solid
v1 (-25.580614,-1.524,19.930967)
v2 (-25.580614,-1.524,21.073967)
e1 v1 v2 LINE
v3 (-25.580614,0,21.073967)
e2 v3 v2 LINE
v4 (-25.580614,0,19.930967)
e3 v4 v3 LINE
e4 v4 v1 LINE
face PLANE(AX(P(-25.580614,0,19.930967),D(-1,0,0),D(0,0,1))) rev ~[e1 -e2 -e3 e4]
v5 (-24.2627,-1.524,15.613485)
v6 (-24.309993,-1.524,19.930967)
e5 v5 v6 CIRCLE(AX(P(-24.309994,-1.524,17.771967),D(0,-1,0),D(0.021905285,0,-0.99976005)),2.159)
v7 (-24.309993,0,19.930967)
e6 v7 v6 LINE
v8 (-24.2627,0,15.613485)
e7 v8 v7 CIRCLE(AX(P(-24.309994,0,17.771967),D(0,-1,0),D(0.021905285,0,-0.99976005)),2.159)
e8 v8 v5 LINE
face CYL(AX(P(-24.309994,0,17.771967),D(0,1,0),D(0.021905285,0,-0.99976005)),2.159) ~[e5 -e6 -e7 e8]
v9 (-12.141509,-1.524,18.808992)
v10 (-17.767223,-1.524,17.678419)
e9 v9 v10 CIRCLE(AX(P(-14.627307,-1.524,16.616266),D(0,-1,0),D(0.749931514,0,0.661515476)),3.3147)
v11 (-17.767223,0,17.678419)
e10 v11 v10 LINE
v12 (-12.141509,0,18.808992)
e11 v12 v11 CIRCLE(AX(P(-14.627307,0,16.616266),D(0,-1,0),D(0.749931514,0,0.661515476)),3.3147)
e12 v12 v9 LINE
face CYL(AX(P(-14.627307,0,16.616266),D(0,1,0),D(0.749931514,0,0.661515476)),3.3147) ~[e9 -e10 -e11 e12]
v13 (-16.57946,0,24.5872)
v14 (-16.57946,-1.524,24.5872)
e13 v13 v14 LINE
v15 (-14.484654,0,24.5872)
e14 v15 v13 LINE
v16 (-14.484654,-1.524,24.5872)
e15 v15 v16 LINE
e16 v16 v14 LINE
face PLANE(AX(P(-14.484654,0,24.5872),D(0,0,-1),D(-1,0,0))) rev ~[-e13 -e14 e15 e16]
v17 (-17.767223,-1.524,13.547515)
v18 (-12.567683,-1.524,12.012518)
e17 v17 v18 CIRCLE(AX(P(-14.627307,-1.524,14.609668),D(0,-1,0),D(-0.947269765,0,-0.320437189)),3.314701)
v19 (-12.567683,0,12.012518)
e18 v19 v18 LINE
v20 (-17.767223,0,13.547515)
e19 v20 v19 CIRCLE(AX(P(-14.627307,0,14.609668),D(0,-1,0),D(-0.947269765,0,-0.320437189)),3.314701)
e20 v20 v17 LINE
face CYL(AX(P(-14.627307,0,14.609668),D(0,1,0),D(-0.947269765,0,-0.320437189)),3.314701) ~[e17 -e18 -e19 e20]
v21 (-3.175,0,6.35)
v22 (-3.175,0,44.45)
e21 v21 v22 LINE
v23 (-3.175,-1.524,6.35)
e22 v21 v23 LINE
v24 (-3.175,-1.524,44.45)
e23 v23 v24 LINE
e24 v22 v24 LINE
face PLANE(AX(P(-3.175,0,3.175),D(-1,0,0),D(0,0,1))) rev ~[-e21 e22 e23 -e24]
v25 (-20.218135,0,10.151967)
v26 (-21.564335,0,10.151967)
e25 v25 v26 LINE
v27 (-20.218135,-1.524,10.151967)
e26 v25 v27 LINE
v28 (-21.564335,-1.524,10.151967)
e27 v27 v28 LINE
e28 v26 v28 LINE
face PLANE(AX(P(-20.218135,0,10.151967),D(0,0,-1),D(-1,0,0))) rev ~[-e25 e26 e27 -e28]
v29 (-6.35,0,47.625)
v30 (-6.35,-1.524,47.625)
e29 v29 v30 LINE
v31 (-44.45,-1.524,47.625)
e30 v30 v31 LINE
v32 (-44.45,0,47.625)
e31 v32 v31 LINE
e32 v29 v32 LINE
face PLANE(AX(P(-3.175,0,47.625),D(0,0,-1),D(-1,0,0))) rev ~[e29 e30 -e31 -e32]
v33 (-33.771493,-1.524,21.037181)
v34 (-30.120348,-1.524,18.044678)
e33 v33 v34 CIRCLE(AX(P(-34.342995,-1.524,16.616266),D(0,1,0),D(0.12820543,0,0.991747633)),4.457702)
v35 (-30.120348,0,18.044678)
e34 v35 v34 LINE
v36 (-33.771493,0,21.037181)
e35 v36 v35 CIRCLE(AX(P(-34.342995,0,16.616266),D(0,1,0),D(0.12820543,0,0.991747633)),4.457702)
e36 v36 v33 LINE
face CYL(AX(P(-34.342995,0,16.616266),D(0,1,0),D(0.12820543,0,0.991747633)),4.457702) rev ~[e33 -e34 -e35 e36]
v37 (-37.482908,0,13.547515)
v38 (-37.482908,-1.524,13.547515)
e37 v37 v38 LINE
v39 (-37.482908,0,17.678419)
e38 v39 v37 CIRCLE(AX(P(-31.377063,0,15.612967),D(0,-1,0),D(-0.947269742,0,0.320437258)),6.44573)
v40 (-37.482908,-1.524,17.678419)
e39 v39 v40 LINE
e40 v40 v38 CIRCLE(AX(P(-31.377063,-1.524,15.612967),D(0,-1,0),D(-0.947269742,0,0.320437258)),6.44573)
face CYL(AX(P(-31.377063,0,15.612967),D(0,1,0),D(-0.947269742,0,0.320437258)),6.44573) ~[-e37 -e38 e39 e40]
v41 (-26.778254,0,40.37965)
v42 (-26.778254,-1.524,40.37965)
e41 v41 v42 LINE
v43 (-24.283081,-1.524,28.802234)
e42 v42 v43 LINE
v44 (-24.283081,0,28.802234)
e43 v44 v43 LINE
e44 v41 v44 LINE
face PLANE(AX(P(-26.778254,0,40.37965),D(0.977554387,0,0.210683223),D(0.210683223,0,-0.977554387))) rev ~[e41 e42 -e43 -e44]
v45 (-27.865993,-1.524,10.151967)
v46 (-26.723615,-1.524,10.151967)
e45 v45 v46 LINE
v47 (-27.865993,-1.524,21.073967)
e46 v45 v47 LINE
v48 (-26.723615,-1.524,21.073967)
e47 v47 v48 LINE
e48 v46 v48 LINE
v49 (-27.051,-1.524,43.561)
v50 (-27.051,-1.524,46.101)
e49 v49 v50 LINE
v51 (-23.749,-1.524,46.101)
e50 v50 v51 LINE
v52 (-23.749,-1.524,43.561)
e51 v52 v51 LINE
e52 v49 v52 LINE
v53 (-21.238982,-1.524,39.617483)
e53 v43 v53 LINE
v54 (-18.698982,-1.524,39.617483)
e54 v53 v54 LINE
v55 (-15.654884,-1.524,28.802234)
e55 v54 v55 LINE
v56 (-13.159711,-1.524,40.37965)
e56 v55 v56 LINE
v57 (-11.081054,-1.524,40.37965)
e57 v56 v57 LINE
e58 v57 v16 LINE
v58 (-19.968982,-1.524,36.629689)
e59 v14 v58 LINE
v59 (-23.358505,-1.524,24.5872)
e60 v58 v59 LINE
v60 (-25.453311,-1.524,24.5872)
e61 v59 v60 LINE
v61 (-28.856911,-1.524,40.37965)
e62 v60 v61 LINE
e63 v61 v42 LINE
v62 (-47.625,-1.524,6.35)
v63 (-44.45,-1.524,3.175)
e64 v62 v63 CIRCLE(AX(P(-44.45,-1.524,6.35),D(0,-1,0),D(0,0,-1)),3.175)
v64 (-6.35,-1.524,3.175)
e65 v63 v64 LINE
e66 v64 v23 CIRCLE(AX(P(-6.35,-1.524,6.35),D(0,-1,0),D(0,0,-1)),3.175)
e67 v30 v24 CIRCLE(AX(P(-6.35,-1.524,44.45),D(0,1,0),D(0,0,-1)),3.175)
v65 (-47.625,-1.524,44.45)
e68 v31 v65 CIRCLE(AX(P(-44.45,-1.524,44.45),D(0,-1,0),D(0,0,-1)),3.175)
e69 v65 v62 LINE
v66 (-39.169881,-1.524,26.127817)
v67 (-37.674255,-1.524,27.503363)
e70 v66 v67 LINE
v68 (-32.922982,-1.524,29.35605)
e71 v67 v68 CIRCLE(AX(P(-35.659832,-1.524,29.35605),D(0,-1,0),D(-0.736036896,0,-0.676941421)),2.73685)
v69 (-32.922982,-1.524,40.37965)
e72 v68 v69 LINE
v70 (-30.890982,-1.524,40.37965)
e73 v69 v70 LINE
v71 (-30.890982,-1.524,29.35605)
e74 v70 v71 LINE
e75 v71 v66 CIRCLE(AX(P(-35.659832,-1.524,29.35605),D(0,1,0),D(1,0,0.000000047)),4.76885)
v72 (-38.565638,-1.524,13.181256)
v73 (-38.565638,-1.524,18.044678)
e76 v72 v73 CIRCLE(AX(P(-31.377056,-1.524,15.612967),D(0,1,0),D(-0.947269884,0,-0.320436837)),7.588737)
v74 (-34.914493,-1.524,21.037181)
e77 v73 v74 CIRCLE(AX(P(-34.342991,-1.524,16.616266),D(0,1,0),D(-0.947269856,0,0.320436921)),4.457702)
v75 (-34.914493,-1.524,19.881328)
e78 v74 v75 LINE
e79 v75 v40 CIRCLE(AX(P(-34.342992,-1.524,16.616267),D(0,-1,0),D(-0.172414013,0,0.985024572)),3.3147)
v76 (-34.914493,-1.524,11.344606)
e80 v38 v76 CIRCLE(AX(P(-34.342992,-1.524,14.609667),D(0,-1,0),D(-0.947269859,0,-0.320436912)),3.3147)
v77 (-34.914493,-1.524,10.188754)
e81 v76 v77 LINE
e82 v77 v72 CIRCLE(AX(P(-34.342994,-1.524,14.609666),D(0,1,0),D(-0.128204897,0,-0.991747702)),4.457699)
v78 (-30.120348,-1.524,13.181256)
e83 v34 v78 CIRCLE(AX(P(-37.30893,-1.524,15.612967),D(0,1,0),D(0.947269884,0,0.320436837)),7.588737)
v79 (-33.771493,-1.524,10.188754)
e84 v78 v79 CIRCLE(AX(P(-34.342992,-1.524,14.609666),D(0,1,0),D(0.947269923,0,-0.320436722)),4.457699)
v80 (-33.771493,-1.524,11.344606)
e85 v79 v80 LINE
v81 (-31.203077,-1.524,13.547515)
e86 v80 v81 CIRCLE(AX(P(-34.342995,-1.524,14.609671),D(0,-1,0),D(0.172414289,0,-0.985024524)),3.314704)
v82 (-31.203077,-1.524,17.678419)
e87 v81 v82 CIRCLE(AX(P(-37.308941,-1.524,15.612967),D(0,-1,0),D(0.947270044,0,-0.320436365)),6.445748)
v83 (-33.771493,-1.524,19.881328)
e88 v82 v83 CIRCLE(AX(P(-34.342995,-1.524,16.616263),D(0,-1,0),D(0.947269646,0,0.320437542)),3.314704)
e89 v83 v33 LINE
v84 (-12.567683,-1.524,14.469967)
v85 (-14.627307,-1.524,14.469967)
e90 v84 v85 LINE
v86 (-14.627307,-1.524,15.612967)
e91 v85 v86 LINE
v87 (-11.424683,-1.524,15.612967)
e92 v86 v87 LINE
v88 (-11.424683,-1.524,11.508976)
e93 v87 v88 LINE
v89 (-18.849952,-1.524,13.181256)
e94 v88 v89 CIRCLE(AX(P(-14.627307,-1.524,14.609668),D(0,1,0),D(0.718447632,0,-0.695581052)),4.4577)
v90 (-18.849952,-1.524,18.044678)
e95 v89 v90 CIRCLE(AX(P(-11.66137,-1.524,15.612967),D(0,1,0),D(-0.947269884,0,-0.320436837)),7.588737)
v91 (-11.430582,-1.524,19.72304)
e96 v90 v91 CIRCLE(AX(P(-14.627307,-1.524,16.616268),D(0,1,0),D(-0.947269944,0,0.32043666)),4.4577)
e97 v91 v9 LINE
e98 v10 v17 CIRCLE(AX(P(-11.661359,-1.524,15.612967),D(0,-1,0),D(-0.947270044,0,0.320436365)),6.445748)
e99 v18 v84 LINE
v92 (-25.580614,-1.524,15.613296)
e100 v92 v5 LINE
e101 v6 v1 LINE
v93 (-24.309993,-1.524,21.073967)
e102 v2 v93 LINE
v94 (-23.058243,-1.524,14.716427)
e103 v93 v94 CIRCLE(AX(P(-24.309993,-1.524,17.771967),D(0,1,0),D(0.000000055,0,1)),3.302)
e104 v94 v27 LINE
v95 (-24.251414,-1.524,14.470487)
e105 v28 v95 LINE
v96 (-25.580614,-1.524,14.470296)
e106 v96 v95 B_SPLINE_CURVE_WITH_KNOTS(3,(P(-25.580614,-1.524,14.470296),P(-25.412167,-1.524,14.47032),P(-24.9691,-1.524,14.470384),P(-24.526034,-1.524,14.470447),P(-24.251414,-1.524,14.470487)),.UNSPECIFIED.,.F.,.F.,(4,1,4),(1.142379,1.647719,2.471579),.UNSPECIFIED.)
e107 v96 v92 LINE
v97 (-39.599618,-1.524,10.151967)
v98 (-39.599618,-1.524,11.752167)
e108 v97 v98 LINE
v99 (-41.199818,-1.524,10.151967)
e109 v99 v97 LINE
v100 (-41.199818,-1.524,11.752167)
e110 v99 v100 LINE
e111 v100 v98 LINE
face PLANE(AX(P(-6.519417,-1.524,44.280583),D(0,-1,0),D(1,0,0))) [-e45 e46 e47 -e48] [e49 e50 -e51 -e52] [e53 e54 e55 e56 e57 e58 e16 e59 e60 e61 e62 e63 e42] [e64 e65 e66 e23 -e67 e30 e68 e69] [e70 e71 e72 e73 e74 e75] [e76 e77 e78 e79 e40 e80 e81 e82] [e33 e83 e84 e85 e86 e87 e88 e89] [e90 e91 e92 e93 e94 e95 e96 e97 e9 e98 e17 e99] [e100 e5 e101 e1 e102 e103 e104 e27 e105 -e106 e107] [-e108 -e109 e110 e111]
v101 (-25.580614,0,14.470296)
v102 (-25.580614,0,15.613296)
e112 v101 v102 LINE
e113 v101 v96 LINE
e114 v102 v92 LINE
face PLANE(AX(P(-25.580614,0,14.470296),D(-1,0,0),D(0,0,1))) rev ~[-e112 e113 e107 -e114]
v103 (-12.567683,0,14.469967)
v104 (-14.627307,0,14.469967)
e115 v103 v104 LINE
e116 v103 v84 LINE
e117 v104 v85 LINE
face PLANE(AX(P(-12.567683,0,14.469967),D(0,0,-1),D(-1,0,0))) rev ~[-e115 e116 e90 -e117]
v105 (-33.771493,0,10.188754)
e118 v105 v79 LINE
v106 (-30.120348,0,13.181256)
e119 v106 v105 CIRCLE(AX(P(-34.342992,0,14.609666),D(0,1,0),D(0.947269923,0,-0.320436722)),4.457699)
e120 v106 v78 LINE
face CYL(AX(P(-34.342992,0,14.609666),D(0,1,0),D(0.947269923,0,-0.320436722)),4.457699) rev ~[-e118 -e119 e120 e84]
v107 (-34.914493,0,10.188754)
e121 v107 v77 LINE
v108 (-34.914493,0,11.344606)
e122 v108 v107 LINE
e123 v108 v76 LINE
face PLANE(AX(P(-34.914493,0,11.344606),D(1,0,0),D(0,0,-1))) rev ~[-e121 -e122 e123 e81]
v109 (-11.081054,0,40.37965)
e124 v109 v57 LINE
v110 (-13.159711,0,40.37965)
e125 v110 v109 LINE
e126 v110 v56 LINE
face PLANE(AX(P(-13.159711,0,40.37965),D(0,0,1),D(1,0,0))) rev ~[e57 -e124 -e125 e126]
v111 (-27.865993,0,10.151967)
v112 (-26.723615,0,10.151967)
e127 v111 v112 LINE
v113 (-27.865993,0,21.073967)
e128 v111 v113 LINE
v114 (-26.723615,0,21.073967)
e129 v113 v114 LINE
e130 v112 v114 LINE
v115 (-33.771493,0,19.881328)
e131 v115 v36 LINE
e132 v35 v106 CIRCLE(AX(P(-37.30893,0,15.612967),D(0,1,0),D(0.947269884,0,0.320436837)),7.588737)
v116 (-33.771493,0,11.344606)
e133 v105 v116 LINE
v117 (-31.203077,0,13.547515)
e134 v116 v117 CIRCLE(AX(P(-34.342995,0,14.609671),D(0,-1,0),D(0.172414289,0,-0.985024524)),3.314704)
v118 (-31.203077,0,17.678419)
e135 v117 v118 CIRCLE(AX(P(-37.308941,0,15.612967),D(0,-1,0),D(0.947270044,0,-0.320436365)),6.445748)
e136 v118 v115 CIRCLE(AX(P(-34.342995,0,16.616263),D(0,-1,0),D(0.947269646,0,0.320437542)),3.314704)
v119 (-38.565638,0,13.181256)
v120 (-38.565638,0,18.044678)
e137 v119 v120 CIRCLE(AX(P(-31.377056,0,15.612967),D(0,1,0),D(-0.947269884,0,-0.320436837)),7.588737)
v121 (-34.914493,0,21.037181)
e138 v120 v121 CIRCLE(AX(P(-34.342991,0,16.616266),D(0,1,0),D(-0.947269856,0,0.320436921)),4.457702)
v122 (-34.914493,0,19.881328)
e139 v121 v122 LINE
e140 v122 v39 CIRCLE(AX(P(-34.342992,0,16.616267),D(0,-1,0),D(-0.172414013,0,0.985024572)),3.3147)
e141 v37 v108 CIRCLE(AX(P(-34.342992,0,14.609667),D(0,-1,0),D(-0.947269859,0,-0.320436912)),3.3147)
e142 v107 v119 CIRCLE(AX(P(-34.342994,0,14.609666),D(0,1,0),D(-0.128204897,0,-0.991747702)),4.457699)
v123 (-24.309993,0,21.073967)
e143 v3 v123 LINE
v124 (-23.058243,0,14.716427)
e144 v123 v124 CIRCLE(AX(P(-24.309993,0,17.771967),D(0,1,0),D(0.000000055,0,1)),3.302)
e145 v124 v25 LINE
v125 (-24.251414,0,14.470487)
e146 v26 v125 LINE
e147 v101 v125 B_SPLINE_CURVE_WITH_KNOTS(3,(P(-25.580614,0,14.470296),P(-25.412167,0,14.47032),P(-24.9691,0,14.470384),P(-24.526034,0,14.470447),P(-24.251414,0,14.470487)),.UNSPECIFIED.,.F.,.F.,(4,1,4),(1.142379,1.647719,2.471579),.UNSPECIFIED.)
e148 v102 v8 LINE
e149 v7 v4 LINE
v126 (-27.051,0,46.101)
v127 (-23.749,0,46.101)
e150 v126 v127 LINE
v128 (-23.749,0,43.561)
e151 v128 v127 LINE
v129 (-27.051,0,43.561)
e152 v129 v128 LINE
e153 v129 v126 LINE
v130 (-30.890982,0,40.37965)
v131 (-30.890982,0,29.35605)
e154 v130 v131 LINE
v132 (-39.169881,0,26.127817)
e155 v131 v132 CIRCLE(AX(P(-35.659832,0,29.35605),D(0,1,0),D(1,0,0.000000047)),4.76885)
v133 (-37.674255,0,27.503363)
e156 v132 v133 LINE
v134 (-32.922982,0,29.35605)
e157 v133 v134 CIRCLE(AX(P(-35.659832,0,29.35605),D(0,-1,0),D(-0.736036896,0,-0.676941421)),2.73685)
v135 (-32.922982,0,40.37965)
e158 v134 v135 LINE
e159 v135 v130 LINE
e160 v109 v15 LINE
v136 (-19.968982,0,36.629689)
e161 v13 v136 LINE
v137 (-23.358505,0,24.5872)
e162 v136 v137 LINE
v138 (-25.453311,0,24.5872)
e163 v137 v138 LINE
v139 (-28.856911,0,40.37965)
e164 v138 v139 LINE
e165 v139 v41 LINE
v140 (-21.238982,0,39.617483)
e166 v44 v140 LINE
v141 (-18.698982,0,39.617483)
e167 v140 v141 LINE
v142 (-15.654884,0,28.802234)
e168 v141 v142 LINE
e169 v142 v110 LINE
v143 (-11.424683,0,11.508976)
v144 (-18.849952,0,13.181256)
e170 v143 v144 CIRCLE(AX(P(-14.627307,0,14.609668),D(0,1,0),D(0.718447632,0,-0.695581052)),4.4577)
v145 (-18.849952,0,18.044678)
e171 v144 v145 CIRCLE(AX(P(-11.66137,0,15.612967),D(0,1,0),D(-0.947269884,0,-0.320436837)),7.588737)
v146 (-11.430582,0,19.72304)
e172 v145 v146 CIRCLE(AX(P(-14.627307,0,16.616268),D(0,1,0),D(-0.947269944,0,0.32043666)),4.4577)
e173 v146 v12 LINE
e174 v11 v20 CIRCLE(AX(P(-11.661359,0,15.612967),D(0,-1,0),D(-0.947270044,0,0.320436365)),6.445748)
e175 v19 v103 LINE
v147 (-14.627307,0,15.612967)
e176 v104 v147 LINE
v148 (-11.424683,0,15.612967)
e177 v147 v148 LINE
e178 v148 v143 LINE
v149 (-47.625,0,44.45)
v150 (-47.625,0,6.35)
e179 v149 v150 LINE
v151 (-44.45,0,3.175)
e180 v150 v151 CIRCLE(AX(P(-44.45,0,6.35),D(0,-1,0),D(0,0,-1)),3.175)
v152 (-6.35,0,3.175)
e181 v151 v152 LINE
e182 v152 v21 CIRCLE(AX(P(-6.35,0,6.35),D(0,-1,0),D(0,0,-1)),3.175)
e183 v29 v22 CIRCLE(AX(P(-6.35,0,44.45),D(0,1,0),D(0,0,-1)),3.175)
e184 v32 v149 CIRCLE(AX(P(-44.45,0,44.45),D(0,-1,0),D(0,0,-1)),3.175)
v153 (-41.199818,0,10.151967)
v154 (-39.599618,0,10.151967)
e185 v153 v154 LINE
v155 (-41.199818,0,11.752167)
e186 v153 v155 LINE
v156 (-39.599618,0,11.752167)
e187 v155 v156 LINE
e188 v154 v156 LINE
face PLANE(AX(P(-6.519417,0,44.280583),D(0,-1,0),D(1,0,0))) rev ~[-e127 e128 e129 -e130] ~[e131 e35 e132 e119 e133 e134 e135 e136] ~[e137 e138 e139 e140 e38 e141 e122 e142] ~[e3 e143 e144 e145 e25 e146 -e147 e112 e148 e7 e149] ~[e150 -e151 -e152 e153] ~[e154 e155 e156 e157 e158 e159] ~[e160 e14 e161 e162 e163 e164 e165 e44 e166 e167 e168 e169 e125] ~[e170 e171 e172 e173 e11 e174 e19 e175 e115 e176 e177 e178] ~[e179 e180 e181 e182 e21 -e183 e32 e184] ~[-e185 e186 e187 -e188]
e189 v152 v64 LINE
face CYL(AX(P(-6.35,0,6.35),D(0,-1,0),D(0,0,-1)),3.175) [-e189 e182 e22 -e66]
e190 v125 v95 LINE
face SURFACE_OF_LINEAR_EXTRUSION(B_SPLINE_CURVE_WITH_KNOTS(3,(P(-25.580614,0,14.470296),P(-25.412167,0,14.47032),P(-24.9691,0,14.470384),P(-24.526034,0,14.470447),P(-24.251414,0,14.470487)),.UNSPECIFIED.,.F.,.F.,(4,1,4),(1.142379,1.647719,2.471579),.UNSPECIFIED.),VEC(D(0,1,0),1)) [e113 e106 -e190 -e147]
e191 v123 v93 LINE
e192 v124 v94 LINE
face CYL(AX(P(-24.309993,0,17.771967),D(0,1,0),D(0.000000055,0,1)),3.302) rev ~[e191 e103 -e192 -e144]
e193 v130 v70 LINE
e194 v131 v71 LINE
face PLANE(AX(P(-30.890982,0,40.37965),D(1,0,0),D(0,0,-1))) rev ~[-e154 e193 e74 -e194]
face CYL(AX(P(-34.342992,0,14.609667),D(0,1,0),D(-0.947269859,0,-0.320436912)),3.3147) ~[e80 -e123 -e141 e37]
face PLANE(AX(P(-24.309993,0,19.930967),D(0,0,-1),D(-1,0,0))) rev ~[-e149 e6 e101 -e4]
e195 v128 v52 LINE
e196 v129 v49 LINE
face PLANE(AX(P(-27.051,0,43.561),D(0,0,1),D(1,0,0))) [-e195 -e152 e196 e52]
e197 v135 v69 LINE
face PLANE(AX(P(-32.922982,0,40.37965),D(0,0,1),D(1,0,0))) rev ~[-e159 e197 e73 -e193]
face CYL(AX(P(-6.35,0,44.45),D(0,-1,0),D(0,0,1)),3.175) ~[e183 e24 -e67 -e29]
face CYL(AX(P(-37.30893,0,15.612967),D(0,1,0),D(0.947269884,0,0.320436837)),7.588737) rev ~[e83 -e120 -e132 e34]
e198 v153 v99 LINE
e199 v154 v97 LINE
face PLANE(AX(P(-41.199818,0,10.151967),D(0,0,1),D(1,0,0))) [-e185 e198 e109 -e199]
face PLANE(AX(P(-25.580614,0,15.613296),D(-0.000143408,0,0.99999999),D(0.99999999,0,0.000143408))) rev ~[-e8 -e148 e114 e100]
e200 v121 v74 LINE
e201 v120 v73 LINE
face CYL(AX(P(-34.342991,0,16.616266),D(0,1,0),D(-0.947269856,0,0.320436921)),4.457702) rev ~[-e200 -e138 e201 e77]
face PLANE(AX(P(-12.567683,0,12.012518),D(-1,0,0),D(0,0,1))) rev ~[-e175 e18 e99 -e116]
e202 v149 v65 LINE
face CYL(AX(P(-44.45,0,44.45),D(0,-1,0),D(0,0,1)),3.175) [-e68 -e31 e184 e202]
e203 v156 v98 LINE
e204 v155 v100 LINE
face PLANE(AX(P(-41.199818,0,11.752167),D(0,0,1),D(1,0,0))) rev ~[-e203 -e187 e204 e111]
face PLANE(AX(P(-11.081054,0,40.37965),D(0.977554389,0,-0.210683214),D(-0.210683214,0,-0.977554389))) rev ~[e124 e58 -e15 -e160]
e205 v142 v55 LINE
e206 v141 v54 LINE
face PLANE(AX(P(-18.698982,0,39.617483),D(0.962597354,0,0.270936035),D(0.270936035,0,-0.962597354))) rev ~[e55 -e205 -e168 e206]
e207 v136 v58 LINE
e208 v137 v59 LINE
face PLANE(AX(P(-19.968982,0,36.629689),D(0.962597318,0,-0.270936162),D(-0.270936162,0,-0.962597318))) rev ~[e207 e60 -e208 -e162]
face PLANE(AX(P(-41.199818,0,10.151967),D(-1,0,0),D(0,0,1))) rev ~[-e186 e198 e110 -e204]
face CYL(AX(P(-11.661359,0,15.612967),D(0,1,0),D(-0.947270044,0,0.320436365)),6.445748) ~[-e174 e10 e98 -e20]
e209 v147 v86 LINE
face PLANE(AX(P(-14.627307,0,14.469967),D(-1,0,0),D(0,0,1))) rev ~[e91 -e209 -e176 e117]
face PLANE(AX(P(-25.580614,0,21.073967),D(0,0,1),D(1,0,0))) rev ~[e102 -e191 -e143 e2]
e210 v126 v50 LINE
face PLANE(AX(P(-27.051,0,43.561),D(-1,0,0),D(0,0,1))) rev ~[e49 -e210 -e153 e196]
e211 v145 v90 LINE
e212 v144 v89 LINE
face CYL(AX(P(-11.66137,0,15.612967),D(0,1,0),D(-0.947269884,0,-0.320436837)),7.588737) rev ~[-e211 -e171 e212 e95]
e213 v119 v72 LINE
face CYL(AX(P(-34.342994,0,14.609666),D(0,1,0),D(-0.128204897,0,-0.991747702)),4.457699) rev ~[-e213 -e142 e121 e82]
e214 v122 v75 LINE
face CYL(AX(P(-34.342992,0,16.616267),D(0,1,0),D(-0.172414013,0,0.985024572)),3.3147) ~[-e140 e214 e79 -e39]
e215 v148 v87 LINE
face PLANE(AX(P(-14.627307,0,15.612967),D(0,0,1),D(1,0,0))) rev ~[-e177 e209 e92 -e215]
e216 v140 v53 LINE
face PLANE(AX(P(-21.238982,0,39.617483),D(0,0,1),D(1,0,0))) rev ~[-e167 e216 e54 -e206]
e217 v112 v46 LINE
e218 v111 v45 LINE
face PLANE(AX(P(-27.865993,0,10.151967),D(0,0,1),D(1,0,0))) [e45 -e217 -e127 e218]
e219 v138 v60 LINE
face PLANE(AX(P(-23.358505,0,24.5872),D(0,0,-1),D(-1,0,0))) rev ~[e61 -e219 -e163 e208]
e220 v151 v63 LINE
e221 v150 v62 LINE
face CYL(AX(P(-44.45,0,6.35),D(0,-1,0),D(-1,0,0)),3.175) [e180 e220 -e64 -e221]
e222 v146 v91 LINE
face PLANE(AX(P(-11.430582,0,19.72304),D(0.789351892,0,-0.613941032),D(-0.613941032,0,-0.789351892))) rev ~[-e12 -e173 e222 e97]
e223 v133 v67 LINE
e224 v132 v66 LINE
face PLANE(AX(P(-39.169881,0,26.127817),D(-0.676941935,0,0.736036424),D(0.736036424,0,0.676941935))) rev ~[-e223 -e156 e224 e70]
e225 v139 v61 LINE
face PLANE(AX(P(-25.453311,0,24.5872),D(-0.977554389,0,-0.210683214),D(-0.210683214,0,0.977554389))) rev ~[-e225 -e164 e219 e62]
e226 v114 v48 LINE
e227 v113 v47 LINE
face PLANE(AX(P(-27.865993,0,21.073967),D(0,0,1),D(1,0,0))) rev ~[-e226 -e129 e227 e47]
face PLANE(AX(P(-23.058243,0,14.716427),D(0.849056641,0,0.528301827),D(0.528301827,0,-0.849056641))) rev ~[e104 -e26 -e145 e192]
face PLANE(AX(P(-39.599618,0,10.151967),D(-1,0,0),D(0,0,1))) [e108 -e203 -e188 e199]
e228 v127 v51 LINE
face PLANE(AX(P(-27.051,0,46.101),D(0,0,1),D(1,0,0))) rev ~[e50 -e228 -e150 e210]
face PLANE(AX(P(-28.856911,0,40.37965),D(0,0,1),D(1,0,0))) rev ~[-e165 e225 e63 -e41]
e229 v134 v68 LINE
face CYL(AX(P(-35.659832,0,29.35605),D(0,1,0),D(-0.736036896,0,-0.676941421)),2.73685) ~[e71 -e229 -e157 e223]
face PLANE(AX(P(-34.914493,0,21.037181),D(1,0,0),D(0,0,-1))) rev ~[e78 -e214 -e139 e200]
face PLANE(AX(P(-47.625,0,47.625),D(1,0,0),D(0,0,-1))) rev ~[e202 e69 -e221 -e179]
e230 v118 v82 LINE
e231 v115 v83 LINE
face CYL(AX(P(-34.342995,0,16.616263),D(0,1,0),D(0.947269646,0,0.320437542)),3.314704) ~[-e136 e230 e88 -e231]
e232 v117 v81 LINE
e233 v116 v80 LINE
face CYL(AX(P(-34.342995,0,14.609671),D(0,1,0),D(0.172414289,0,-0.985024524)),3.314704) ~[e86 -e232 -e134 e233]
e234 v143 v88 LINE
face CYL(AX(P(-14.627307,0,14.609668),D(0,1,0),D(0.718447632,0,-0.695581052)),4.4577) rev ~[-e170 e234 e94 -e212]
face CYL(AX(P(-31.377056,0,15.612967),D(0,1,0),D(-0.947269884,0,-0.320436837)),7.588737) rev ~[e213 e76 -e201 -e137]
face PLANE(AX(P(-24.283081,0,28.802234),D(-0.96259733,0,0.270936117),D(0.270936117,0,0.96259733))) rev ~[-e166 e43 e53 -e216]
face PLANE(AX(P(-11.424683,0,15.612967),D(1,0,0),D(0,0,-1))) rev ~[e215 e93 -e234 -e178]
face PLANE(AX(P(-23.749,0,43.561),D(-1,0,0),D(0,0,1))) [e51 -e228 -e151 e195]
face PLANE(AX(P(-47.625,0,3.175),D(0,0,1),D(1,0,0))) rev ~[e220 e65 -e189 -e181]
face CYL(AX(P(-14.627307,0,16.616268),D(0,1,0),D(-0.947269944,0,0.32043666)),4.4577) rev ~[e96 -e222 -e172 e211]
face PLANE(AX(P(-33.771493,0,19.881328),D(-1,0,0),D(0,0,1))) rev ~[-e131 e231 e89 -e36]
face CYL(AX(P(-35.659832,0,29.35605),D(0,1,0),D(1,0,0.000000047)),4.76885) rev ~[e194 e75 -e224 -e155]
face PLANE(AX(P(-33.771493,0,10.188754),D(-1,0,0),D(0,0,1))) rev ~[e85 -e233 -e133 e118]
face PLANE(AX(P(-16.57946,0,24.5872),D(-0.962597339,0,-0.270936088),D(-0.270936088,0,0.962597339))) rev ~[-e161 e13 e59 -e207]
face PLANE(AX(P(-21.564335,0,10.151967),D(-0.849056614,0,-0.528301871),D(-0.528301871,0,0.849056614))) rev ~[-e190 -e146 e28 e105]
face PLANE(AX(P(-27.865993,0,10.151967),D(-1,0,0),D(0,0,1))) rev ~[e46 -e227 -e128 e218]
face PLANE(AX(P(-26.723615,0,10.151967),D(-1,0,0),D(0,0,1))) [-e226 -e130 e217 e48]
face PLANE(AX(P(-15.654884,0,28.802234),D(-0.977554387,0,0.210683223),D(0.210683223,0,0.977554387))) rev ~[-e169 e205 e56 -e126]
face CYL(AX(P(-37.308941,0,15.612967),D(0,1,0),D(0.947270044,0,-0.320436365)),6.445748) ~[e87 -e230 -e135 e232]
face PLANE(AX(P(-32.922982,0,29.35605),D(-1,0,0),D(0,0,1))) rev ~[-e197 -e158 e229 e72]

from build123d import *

# Parameters (mm, degrees)
F1_W     = 1.6002
F1_H     = 1.6002
F1_W_2   = 1.142379
F1_H_2   = 10.922
F1_W_3   = 3.302
F1_H_3   = 2.54
F2_DEPTH = 1.524
F3_R     = 3.175


with BuildPart() as f2:
    # F1 (on Front) → F2 (new body)
    with BuildSketch(Plane.XZ):
        with BuildLine():
            ThreePointArc((-13.103278, 47.625), (-7.439488, 43.360512), (-3.175, 37.696722))
            Line((-3.175, 37.696722), (-3.175, 47.625))
            Line((-3.175, 47.625), (-13.103278, 47.625))
        make_face()
        with BuildLine():
            ThreePointArc((-47.625, 13.103278), (-43.360512, 7.439488), (-37.696722, 3.175))
            Line((-37.696722, 3.175), (-13.103278, 3.175))
            ThreePointArc((-13.103278, 3.175), (-7.439488, 7.439488), (-3.175, 13.103278))
            Line((-3.175, 13.103278), (-3.175, 37.696722))
            ThreePointArc((-3.175, 37.696722), (-7.439488, 43.360512), (-13.103278, 47.625))
            Line((-13.103278, 47.625), (-37.696722, 47.625))
            ThreePointArc((-37.696722, 47.625), (-43.360512, 43.360512), (-47.625, 37.696722))
            Line((-47.625, 37.696722), (-47.625, 13.103278))
        make_face()
        with Locations((-40.399718, 10.952067)):
            Rectangle(F1_W, F1_H, mode=Mode.SUBTRACT)
        with BuildLine():
            ThreePointArc((-34.914493, 19.881328), (-36.500967, 19.132292), (-37.482908, 17.678419))
            ThreePointArc((-37.482908, 17.678419), (-37.822793, 15.612967), (-37.482908, 13.547515))
            ThreePointArc((-37.482908, 13.547515), (-36.500967, 12.093642), (-34.914493, 11.344606))
            Line((-34.914493, 11.344606), (-34.914493, 10.188754))
            ThreePointArc((-34.914493, 10.188754), (-37.168718, 11.162006), (-38.565638, 13.181256))
            ThreePointArc((-38.565638, 13.181256), (-38.965793, 15.612967), (-38.565638, 18.044678))
            ThreePointArc((-38.565638, 18.044678), (-37.168718, 20.063928), (-34.914493, 21.037181))
            Line((-34.914493, 21.037181), (-34.914493, 19.881328))
        make_face(mode=Mode.SUBTRACT)
        with BuildLine():
            ThreePointArc((-30.120348, 18.044678), (-29.720193, 15.612967), (-30.120348, 13.181256))
            ThreePointArc((-30.120348, 13.181256), (-31.517268, 11.162006), (-33.771493, 10.188754))
            Line((-33.771493, 10.188754), (-33.771493, 11.344606))
            ThreePointArc((-33.771493, 11.344606), (-32.185019, 12.093642), (-31.203077, 13.547515))
            ThreePointArc((-31.203077, 13.547515), (-30.863193, 15.612967), (-31.203077, 17.678419))
            ThreePointArc((-31.203077, 17.678419), (-32.185019, 19.132292), (-33.771493, 19.881328))
            Line((-33.771493, 19.881328), (-33.771493, 21.037181))
            ThreePointArc((-33.771493, 21.037181), (-31.517268, 20.063928), (-30.120348, 18.044678))
        make_face(mode=Mode.SUBTRACT)
        with Locations((-27.294804, 15.612967)):
            Rectangle(F1_W_2, F1_H_2, mode=Mode.SUBTRACT)
        with BuildLine():
            Line((-23.058243, 14.716427), (-20.218135, 10.151967))
            Line((-20.218135, 10.151967), (-21.564335, 10.151967))
            Line((-21.564335, 10.151967), (-24.251414, 14.470487))
            add(Edge.make_bspline(
                [(-25.580614, 14.470296), (-25.412167, 14.47032), (-24.9691, 14.470384), (-24.526034, 14.470447), (-24.251414, 14.470487)],
                knots=[1.142379, 1.142379, 1.142379, 1.142379, 1.647719, 2.471579, 2.471579, 2.471579, 2.471579], degree=3))
            Line((-25.580614, 14.470296), (-25.580614, 15.613296))
            Line((-25.580614, 15.613296), (-24.2627, 15.613485))
            ThreePointArc((-24.2627, 15.613485), (-22.151123, 17.795615), (-24.309993, 19.930967))
            Line((-24.309993, 19.930967), (-25.580614, 19.930967))
            Line((-25.580614, 19.930967), (-25.580614, 21.073967))
            Line((-25.580614, 21.073967), (-24.309993, 21.073967))
            ThreePointArc((-24.309993, 21.073967), (-21.070194, 18.409858), (-23.058243, 14.716427))
        make_face(mode=Mode.SUBTRACT)
        with BuildLine():
            ThreePointArc((-17.767223, 13.547515), (-15.565822, 11.430607), (-12.567683, 12.012518))
            Line((-12.567683, 12.012518), (-12.567683, 14.469967))
            Line((-12.567683, 14.469967), (-14.627307, 14.469967))
            Line((-14.627307, 14.469967), (-14.627307, 15.612967))
            Line((-14.627307, 15.612967), (-11.424683, 15.612967))
            Line((-11.424683, 15.612967), (-11.424683, 11.508976))
            ThreePointArc((-11.424683, 11.508976), (-15.606715, 10.260892), (-18.849952, 13.181256))
            ThreePointArc((-18.849952, 13.181256), (-19.250107, 15.612967), (-18.849952, 18.044678))
            ThreePointArc((-18.849952, 18.044678), (-15.610848, 20.96411), (-11.430582, 19.72304))
            Line((-11.430582, 19.72304), (-12.141509, 18.808992))
            ThreePointArc((-12.141509, 18.808992), (-15.280389, 19.865993), (-17.767223, 17.678419))
            ThreePointArc((-17.767223, 17.678419), (-18.107107, 15.612967), (-17.767223, 13.547515))
        make_face(mode=Mode.SUBTRACT)
        with BuildLine():
            Line((-30.890982, 40.37965), (-30.890982, 29.35605))
            ThreePointArc((-30.890982, 29.35605), (-33.927344, 24.913031), (-39.169881, 26.127817))
            Line((-39.169881, 26.127817), (-37.674255, 27.503363))
            ThreePointArc((-37.674255, 27.503363), (-34.665555, 26.806195), (-32.922982, 29.35605))
            Line((-32.922982, 29.35605), (-32.922982, 40.37965))
            Line((-32.922982, 40.37965), (-30.890982, 40.37965))
        make_face(mode=Mode.SUBTRACT)
        with Locations((-25.4, 44.831)):
            Rectangle(F1_W_3, F1_H_3, mode=Mode.SUBTRACT)
        Polygon((-28.856911, 40.37965), (-26.778254, 40.37965), (-24.283081, 28.802234), (-21.238982, 39.617483), (-18.698982, 39.617483), (-15.654884, 28.802234), (-13.159711, 40.37965), (-11.081054, 40.37965), (-14.484654, 24.5872), (-16.57946, 24.5872), (-19.968982, 36.629689), (-23.358505, 24.5872), (-25.453311, 24.5872), align=None, mode=Mode.SUBTRACT)
        with BuildLine():
            ThreePointArc((-3.175, 13.103278), (-7.439488, 7.439488), (-13.103278, 3.175))
            Line((-13.103278, 3.175), (-3.175, 3.175))
            Line((-3.175, 3.175), (-3.175, 13.103278))
        make_face()
        with BuildLine():
            Line((-47.625, 47.625), (-47.625, 37.696722))
            ThreePointArc((-47.625, 37.696722), (-43.360512, 43.360512), (-37.696722, 47.625))
            Line((-37.696722, 47.625), (-47.625, 47.625))
        make_face()
        with BuildLine():
            Line((-47.625, 3.175), (-37.696722, 3.175))
            ThreePointArc((-37.696722, 3.175), (-43.360512, 7.439488), (-47.625, 13.103278))
            Line((-47.625, 13.103278), (-47.625, 3.175))
        make_face()
    extrude(amount=F2_DEPTH)

    # F3
    f3_edges = [f2.edges().sort_by_distance(p)[0] for p in [
        (-47.625, -0.762, 47.625),
        (-3.175, -0.762, 47.625),
        (-3.175, -0.762, 3.175),
        (-47.625, -0.762, 3.175),
    ]]
    fillet(f3_edges, radius=F3_R)


solid = f2.part
